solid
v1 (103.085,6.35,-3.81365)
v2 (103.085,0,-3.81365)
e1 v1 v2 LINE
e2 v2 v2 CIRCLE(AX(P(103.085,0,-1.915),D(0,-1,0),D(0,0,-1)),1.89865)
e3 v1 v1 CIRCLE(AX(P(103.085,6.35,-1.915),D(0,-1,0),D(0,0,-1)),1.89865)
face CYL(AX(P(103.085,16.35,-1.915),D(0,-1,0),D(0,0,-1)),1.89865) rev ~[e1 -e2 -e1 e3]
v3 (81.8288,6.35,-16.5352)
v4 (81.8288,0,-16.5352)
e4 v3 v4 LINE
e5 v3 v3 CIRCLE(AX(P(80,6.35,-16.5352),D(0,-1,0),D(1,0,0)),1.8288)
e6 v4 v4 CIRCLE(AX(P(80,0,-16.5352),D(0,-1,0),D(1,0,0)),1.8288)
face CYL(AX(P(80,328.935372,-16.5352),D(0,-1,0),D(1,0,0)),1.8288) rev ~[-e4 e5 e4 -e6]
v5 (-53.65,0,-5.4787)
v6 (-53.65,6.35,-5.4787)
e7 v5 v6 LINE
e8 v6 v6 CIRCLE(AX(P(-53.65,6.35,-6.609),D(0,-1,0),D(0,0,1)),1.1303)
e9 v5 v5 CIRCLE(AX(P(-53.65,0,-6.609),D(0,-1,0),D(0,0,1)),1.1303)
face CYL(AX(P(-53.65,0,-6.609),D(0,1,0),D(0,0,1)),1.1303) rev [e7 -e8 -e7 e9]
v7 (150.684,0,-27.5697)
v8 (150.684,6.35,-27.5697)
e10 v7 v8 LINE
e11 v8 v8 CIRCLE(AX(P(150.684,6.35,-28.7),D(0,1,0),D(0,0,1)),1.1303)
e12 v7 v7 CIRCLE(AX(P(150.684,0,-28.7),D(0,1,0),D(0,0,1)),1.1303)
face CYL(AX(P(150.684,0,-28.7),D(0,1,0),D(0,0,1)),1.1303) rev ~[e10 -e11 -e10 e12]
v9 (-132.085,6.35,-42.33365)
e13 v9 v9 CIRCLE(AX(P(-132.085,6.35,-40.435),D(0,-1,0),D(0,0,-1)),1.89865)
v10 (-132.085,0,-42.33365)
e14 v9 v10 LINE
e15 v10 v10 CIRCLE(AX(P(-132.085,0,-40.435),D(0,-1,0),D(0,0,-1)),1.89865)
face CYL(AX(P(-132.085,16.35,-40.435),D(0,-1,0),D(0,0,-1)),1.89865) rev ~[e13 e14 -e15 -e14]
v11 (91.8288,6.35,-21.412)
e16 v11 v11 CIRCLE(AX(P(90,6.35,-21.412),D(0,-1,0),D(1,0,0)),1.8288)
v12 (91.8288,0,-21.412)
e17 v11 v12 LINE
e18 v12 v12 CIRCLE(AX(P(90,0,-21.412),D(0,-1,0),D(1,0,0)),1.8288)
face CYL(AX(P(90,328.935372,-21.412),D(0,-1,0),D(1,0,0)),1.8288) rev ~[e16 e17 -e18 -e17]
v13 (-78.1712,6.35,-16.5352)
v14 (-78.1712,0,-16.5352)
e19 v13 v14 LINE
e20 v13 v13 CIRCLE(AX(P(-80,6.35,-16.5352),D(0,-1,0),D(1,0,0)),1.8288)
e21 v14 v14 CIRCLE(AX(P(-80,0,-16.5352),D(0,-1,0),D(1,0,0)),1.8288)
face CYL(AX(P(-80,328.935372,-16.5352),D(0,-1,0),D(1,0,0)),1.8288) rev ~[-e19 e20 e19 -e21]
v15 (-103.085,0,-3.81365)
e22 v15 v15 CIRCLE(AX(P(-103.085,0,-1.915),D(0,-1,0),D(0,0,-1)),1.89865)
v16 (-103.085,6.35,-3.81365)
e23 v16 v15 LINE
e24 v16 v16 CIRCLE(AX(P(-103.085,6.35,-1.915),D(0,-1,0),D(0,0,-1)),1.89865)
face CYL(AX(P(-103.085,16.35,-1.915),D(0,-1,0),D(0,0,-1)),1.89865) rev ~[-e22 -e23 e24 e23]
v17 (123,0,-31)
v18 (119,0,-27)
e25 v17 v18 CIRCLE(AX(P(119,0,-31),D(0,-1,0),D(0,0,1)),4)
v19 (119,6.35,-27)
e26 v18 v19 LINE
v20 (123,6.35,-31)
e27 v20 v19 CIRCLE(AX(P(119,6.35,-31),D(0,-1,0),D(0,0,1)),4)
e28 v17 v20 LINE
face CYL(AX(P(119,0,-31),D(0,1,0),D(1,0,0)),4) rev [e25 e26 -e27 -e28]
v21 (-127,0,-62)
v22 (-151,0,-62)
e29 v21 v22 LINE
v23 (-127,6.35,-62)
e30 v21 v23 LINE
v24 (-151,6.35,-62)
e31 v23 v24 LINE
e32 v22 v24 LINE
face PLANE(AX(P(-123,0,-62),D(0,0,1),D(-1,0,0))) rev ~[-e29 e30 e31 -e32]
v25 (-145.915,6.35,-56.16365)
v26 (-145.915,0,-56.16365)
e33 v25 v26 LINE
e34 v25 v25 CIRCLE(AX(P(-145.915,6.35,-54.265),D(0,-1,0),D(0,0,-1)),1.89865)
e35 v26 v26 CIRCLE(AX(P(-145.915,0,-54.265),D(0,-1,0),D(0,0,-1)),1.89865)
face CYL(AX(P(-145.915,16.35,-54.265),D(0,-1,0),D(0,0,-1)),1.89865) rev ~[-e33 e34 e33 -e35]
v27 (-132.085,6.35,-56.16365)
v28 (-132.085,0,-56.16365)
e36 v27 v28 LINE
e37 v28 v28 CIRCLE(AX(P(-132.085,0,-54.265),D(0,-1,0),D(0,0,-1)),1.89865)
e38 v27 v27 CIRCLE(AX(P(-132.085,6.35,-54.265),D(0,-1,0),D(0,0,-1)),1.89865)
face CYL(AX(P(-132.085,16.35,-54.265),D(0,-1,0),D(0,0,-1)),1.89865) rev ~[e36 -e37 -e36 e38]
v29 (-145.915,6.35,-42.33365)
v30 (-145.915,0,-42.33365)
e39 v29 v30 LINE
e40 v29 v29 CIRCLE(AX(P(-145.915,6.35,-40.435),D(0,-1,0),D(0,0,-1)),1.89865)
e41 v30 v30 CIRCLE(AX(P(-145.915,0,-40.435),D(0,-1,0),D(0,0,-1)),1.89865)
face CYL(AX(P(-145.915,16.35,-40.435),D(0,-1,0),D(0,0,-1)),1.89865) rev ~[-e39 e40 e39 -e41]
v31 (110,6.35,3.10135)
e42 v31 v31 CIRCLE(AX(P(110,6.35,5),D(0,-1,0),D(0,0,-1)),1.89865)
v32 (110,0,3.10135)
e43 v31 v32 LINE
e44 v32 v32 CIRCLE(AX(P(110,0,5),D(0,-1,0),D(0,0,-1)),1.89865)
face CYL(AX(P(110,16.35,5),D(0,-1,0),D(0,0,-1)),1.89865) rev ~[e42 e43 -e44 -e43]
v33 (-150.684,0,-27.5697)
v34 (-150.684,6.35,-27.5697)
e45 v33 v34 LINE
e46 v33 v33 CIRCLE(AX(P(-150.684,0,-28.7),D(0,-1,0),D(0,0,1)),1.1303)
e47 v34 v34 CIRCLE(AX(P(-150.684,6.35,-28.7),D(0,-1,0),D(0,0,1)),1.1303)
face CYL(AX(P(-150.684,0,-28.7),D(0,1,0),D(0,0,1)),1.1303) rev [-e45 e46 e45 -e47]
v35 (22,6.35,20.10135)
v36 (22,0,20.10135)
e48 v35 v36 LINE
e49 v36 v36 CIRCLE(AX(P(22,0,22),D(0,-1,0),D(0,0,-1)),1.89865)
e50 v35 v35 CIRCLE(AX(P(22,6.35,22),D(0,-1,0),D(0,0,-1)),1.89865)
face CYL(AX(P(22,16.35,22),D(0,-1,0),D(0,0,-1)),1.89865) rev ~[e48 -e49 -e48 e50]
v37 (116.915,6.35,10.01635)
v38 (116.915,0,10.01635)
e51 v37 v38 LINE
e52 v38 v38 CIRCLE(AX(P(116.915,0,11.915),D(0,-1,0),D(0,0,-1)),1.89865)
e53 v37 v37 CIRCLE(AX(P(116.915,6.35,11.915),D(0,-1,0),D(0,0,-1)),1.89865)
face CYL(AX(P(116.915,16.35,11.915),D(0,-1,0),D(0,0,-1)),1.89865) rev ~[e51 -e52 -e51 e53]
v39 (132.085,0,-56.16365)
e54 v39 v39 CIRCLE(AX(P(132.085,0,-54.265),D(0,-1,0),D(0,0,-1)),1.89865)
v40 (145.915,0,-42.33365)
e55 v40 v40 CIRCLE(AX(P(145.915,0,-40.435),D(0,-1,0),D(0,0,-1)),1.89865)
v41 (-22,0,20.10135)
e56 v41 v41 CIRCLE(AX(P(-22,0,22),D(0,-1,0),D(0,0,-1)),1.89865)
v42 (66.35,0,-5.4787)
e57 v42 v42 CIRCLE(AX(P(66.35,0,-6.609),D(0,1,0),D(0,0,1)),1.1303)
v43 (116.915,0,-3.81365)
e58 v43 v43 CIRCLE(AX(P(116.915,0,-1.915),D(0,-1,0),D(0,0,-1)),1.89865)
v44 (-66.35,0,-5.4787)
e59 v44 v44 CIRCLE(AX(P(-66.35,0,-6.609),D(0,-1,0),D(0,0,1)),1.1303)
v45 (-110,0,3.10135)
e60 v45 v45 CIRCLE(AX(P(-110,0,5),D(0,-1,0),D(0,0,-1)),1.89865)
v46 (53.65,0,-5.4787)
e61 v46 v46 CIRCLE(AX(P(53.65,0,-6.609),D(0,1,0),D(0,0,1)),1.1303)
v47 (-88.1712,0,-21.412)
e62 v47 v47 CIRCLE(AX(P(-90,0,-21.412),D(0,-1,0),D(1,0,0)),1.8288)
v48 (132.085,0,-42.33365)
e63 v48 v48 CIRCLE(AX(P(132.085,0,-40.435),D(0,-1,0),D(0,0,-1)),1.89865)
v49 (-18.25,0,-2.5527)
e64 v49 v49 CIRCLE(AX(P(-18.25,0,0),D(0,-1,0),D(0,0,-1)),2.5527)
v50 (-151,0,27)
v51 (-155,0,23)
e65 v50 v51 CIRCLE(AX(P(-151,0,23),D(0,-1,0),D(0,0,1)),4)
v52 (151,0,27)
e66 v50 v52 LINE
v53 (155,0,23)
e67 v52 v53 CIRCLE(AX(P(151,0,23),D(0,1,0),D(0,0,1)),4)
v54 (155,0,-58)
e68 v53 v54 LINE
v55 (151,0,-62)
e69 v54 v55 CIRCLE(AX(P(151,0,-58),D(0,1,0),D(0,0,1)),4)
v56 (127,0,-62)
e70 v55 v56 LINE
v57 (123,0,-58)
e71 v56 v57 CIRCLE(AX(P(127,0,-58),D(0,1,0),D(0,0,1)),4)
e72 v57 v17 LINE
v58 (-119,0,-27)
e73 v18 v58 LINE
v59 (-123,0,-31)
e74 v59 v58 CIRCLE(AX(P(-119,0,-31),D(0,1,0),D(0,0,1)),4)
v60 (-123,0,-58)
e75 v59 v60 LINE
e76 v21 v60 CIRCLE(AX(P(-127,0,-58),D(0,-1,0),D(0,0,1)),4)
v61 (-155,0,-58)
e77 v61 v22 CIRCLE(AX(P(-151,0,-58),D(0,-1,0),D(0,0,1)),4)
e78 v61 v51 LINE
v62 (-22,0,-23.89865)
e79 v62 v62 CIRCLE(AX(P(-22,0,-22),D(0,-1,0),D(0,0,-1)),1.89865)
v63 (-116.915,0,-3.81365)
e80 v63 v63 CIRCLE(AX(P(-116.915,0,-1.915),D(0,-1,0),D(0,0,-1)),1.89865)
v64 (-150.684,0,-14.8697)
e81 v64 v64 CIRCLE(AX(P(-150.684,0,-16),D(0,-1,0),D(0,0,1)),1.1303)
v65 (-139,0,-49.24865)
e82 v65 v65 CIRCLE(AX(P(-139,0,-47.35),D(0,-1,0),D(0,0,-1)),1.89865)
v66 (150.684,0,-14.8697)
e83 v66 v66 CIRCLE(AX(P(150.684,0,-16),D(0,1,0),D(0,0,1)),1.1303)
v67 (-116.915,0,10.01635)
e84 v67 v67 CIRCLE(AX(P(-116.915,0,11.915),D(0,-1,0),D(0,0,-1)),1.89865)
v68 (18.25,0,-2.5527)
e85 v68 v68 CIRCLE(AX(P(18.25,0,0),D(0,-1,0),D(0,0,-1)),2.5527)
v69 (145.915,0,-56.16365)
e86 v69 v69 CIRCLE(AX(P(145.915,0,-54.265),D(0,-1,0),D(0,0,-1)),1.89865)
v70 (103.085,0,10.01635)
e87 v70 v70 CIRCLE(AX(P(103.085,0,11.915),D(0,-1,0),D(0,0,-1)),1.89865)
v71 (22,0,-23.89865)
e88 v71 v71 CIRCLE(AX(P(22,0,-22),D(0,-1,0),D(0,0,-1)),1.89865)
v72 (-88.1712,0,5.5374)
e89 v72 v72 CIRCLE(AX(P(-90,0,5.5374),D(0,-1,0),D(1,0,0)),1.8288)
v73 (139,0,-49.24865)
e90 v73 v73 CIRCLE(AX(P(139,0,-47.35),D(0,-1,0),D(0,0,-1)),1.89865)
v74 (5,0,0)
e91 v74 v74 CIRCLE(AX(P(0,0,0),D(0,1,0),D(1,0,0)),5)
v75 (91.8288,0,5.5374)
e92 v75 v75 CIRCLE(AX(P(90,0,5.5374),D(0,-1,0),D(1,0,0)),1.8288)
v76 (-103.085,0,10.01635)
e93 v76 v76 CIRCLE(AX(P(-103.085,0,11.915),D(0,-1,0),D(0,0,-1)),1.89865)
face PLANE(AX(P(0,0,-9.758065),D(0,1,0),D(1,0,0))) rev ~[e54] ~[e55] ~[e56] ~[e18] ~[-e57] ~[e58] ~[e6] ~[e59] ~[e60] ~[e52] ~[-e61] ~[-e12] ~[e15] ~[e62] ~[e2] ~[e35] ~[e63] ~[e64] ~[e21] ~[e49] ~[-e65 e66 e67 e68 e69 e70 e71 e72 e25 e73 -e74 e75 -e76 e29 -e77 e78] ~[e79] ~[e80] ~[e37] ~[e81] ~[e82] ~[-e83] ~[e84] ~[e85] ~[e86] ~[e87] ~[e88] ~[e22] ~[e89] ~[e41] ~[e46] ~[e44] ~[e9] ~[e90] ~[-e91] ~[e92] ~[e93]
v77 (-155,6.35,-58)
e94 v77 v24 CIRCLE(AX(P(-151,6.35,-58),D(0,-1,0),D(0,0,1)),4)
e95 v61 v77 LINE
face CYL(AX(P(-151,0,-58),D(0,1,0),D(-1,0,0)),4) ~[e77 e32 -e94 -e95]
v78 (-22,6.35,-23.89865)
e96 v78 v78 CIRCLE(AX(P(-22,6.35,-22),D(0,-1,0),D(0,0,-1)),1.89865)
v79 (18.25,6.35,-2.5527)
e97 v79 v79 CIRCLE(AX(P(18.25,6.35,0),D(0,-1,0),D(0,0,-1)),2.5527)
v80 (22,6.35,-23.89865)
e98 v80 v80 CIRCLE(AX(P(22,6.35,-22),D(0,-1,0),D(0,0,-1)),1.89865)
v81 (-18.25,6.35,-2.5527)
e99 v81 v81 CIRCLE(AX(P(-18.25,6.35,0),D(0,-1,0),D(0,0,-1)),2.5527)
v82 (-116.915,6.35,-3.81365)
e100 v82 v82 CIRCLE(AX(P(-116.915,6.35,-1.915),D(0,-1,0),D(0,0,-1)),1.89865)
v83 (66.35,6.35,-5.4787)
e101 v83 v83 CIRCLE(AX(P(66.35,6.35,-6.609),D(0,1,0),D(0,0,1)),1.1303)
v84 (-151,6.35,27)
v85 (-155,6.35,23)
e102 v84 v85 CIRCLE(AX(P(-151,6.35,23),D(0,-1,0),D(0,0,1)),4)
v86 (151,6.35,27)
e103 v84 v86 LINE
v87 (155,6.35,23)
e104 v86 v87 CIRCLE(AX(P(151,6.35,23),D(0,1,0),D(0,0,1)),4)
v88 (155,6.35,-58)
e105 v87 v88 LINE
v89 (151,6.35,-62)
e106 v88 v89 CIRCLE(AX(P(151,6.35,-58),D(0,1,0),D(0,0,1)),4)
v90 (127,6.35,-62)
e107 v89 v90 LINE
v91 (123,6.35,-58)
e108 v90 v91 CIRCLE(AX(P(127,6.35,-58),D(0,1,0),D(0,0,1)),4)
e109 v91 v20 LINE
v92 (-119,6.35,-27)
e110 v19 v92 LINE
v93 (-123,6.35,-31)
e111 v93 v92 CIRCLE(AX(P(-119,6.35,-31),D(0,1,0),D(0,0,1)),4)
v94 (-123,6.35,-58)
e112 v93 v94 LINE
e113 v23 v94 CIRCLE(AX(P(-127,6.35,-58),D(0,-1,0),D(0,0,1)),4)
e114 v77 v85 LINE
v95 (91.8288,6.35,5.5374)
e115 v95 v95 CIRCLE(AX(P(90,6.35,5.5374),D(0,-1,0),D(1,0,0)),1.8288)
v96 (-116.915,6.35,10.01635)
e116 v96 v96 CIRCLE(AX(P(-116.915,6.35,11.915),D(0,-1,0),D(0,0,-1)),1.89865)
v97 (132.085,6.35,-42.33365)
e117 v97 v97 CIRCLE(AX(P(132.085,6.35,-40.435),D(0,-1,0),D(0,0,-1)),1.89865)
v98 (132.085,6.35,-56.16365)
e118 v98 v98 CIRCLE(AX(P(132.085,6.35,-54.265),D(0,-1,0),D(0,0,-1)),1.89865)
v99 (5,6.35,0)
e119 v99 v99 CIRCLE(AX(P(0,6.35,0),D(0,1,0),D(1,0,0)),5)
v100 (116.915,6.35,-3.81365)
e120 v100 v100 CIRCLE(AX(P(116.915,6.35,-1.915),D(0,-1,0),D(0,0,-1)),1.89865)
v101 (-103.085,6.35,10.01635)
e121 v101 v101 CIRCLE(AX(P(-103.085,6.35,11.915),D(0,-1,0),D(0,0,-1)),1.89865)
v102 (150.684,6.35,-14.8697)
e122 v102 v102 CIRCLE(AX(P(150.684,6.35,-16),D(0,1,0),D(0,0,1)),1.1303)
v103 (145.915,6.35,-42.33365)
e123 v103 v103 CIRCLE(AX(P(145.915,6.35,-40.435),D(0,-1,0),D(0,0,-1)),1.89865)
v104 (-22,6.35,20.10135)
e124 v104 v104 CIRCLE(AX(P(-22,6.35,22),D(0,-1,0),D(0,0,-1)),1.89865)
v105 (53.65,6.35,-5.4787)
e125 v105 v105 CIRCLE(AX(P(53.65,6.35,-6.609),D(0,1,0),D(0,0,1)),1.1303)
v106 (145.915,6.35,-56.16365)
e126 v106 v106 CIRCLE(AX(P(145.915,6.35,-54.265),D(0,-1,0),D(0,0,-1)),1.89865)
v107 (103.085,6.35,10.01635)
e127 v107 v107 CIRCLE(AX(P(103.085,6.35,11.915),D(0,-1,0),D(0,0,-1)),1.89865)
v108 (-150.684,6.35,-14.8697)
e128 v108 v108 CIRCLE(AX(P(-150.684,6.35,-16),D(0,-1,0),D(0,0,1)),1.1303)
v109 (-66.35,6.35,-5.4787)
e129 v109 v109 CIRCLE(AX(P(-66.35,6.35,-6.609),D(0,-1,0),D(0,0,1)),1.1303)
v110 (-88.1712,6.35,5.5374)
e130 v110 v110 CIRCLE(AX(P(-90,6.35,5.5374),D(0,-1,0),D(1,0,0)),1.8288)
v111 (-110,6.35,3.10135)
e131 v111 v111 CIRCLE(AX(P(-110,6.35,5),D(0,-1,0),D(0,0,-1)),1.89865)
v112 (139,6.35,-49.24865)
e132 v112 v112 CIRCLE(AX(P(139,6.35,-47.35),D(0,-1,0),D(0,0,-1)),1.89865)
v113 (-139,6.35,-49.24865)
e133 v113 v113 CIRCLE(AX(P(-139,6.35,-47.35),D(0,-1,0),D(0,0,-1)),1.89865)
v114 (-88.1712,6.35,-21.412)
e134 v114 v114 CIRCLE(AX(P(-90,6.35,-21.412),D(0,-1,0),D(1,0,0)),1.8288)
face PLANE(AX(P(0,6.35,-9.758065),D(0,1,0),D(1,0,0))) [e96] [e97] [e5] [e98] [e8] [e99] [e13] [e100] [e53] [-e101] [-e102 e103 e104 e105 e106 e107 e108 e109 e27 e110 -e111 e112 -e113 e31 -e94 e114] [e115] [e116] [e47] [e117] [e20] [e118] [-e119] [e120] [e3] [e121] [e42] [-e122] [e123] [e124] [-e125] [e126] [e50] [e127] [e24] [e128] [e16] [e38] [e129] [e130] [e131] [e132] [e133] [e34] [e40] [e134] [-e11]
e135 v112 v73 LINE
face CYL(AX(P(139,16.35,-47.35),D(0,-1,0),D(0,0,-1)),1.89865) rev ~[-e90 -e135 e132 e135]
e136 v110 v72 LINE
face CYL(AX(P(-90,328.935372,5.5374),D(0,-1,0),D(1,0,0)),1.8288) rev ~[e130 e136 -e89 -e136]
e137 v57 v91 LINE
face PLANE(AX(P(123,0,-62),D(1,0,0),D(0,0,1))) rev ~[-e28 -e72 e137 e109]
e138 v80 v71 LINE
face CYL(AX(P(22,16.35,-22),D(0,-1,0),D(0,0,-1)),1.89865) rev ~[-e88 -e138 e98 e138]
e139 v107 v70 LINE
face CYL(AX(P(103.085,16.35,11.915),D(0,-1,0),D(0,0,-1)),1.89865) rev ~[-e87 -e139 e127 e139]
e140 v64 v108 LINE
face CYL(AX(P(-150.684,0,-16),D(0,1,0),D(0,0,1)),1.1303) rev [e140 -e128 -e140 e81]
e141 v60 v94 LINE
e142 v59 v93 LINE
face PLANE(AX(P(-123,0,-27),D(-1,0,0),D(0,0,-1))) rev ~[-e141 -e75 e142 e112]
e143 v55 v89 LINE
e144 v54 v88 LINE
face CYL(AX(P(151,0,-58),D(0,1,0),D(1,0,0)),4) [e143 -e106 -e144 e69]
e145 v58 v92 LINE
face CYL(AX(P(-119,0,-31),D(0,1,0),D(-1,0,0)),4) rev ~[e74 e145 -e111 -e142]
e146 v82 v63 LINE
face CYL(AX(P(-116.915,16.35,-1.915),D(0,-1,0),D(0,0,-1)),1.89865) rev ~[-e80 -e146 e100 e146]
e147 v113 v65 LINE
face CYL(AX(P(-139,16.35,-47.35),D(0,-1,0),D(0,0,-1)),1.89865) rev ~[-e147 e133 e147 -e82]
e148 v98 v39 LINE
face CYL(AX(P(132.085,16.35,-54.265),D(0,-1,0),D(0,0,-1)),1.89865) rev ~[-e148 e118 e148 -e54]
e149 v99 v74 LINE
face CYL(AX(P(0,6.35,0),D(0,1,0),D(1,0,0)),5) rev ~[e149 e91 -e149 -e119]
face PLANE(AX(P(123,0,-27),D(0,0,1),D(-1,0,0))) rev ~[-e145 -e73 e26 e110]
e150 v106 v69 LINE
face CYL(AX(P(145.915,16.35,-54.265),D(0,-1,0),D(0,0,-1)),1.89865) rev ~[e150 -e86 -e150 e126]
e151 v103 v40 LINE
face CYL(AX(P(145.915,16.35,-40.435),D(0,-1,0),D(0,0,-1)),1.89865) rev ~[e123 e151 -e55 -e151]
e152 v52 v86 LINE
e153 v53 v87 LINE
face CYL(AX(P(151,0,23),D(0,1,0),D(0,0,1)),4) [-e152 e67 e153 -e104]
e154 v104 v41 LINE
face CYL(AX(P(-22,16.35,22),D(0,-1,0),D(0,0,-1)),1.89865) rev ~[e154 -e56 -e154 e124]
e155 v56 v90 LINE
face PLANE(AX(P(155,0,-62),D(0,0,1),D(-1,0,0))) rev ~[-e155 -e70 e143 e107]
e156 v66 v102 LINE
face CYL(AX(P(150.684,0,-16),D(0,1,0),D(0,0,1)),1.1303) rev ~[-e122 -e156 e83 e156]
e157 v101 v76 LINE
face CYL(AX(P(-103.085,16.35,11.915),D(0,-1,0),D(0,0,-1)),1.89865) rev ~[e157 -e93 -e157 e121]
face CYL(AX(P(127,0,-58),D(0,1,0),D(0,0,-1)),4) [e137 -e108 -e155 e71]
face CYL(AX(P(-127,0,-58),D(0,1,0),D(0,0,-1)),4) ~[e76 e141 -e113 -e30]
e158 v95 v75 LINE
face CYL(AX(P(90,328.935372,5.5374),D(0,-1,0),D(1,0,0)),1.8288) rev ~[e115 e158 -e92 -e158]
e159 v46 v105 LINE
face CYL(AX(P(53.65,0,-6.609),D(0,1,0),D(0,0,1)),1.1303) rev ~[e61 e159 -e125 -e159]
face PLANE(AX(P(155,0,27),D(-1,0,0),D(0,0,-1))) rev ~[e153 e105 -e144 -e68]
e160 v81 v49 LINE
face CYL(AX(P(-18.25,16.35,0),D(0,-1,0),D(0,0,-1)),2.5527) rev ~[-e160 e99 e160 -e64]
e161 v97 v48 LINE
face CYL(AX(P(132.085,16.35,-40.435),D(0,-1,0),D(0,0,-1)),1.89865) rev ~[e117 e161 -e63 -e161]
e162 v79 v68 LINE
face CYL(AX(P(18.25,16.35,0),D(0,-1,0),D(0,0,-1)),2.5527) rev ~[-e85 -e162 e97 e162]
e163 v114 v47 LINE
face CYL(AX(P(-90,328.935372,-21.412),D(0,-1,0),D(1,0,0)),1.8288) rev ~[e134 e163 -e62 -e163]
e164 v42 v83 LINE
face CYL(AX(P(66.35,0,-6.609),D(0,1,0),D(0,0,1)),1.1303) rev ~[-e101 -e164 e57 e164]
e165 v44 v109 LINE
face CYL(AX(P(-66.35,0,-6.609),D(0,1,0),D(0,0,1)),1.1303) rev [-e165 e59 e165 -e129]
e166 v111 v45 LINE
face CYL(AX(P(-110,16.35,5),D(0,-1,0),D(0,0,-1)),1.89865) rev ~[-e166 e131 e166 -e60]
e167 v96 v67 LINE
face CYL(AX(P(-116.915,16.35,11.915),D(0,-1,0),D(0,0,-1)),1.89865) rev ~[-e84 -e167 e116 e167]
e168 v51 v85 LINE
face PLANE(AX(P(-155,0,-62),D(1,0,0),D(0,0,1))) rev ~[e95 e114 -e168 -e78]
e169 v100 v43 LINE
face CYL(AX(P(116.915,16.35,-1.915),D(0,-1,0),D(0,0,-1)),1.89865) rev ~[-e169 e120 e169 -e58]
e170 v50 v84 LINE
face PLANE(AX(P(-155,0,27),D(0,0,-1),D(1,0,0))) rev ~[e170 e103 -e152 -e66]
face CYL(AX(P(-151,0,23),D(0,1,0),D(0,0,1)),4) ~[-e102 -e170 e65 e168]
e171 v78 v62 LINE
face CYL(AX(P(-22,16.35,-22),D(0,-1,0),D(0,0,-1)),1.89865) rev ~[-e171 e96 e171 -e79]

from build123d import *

# Parameters (mm, degrees)
BOSS_EXTRUDE1_DEPTH                = 6.35
SKETCH2_R                          = 5
CUT_EXTRUDE1_DEPTH                 = 7.35
F_6_CLEARANCE_HOLE1_D              = 3.7973
F_6_CLEARANCE_HOLE1_DEPTH          = 10
F_6_CLEARANCE_HOLE1_TIP            = 1.140824014
FILLET1_R                          = 4
F_10_CLEARANCE_HOLE1_D             = 5.1054
F_10_CLEARANCE_HOLE1_DEPTH         = 10
F_10_CLEARANCE_HOLE1_TIP           = 1.533816902
F_6_CLEARANCE_HOLE2_D              = 3.6576
TAP_DRILL_FOR_4_40_TAP1_AT_2_COUNT = 2
TAP_DRILL_FOR_4_40_TAP1_AT_2_PITCH = 12.7
TAP_DRILL_FOR_4_40_TAP1_AT_3_COUNT = 2
TAP_DRILL_FOR_4_40_TAP1_AT_3_PITCH = 87.179331478
TAP_DRILL_FOR_4_40_TAP1_AT_4_COUNT = 2
TAP_DRILL_FOR_4_40_TAP1_AT_4_PITCH = 99.516880161


with BuildPart() as part:
    # Sketch1 → Boss-Extrude1 (new body)
    with BuildSketch(Plane(origin=(0, 0, 0), x_dir=(1, 0, 0), z_dir=(0, 1, 0))):
        Polygon((-155, -27), (155, -27), (155, 27), (155, 62), (123, 62), (123, 27), (-123, 27), (-123, 62), (-155, 62), (-155, 27), align=None)
    extrude(amount=BOSS_EXTRUDE1_DEPTH)

    # Sketch2 → Cut-Extrude1 (cut, through all)
    with BuildSketch(Plane(origin=(0, 6.35, 0), x_dir=(1, 0, 0), z_dir=(0, 1, 0))):
        Circle(SKETCH2_R)
    extrude(amount=-CUT_EXTRUDE1_DEPTH, mode=Mode.SUBTRACT)

    # #6 Clearance Hole1
    with Locations(Plane(origin=(-145.915, 6.35, -54.265), x_dir=(0, 0, 1), z_dir=(0, 1, 0))):
        with Locations((0, 0), (0, 13.83), (13.83, 13.83), (13.83, 0), (6.915, 6.915), (52.35, 29), (52.35, 42.83), (66.18, 42.83), (66.18, 29), (59.265, 35.915), (32.265, 123.915), (32.265, 167.915), (76.265, 167.915), (76.265, 123.915), (66.18, 249), (52.35, 249), (52.35, 262.83), (66.18, 262.83), (59.265, 255.915), (13.83, 278), (6.915, 284.915), (0, 278), (0, 291.83), (13.83, 291.83)):
            Hole(F_6_CLEARANCE_HOLE1_D / 2, depth=F_6_CLEARANCE_HOLE1_DEPTH)
            with Locations((0, 0, -(F_6_CLEARANCE_HOLE1_DEPTH + F_6_CLEARANCE_HOLE1_TIP / 2))):  # 118° drill point
                Cone(0, F_6_CLEARANCE_HOLE1_D / 2, F_6_CLEARANCE_HOLE1_TIP, mode=Mode.SUBTRACT)

    # Fillet1
    fillet1_edges = [part.edges().sort_by_distance(p)[0] for p in [
        (155, 3.175, 27),
        (-155, 3.175, 27),
        (-155, 3.175, -62),
        (-123, 3.175, -62),
        (-123, 3.175, -27),
        (123, 3.175, -27),
        (123, 3.175, -62),
        (155, 3.175, -62),
    ]]
    fillet(fillet1_edges, radius=FILLET1_R)

    # #10 Clearance Hole1
    with Locations(Plane(origin=(-18.25, 6.35, 0), x_dir=(0, 0, 1), z_dir=(0, 1, 0))):
        with Locations((0, 0), (0, 36.5)):
            Hole(F_10_CLEARANCE_HOLE1_D / 2, depth=F_10_CLEARANCE_HOLE1_DEPTH)
            with Locations((0, 0, -(F_10_CLEARANCE_HOLE1_DEPTH + F_10_CLEARANCE_HOLE1_TIP / 2))):  # 118° drill point
                Cone(0, F_10_CLEARANCE_HOLE1_D / 2, F_10_CLEARANCE_HOLE1_TIP, mode=Mode.SUBTRACT)

    # #6 Clearance Hole2 (through all)
    with Locations(Plane(origin=(0, 6.35, 0), x_dir=(-1, 0, 0), z_dir=(0, 1, 0))):
        with Locations((90, -21.412), (90, 5.5374), (-90, 5.5374), (-90, -21.412), (80, -16.5352), (-80, -16.5352)):
            Hole(F_6_CLEARANCE_HOLE2_D / 2)

    # Sketch11 → Tap Drill for #4-40 Tap1 (revolve, cut)
    with BuildSketch(Plane(origin=(-150.684, 6.35, -28.7), x_dir=(0, 0, 1), z_dir=(1, 0, 0))):
        Polygon((0, 0), (0, 7.029152758), (1.1303, 6.35), (1.1303, 0), align=None)
    tap_drill_for_4_40_tap1 = revolve(axis=Axis((-150.684, 12.7, -28.7), (0, -1, 0)), mode=Mode.SUBTRACT)

    # Tap Drill for #4-40 Tap1 at 2: Tap Drill for #4-40 Tap1 ×2
    with Locations(*[(0, 0, i * TAP_DRILL_FOR_4_40_TAP1_AT_2_PITCH) for i in range(1, TAP_DRILL_FOR_4_40_TAP1_AT_2_COUNT)]):
        add(tap_drill_for_4_40_tap1, mode=Mode.SUBTRACT)

    # Tap Drill for #4-40 Tap1 at 3: Tap Drill for #4-40 Tap1 ×2
    with Locations(*[Vector(0.967362316, 0, 0.253397217) * (i * TAP_DRILL_FOR_4_40_TAP1_AT_3_PITCH) for i in range(1, TAP_DRILL_FOR_4_40_TAP1_AT_3_COUNT)]):
        add(tap_drill_for_4_40_tap1, mode=Mode.SUBTRACT)

    # Tap Drill for #4-40 Tap1 at 4: Tap Drill for #4-40 Tap1 ×2
    with Locations(*[Vector(0.975050663, 0, 0.221982441) * (i * TAP_DRILL_FOR_4_40_TAP1_AT_4_PITCH) for i in range(1, TAP_DRILL_FOR_4_40_TAP1_AT_4_COUNT)]):
        add(tap_drill_for_4_40_tap1, mode=Mode.SUBTRACT)

    # Mirror1: Tap Drill for #4-40 Tap1 across plane
    add(tap_drill_for_4_40_tap1.mirror(Plane(origin=(0, 0, 0), x_dir=(0, 0, 1), z_dir=(1, 0, 0))), mode=Mode.SUBTRACT)

    # Mirror1 copy 1 sketch → Mirror1 copy 1 (revolve, cut)
    with BuildSketch(Plane(origin=(150.684, 6.35, -16), x_dir=(0, 0, 1), z_dir=(-1, 0, 0))):
        Polygon((0, 0), (0, -7.029152758), (1.1303, -6.35), (1.1303, 0), align=None)
    revolve(axis=Axis((150.684, 12.7, -16), (0, 1, 0)), mode=Mode.SUBTRACT)

    # Mirror1 copy 2 sketch → Mirror1 copy 2 (revolve, cut)
    with BuildSketch(Plane(origin=(66.35, 6.35, -6.609), x_dir=(0, 0, 1), z_dir=(-1, 0, 0))):
        Polygon((0, 0), (0, -7.029152758), (1.1303, -6.35), (1.1303, 0), align=None)
    revolve(axis=Axis((66.35, 12.7, -6.609), (0, 1, 0)), mode=Mode.SUBTRACT)

    # Mirror1 copy 3 sketch → Mirror1 copy 3 (revolve, cut)
    with BuildSketch(Plane(origin=(53.65, 6.35, -6.609), x_dir=(0, 0, 1), z_dir=(-1, 0, 0))):
        Polygon((0, 0), (0, -7.029152758), (1.1303, -6.35), (1.1303, 0), align=None)
    revolve(axis=Axis((53.65, 12.7, -6.609), (0, 1, 0)), mode=Mode.SUBTRACT)


solid = part.part
